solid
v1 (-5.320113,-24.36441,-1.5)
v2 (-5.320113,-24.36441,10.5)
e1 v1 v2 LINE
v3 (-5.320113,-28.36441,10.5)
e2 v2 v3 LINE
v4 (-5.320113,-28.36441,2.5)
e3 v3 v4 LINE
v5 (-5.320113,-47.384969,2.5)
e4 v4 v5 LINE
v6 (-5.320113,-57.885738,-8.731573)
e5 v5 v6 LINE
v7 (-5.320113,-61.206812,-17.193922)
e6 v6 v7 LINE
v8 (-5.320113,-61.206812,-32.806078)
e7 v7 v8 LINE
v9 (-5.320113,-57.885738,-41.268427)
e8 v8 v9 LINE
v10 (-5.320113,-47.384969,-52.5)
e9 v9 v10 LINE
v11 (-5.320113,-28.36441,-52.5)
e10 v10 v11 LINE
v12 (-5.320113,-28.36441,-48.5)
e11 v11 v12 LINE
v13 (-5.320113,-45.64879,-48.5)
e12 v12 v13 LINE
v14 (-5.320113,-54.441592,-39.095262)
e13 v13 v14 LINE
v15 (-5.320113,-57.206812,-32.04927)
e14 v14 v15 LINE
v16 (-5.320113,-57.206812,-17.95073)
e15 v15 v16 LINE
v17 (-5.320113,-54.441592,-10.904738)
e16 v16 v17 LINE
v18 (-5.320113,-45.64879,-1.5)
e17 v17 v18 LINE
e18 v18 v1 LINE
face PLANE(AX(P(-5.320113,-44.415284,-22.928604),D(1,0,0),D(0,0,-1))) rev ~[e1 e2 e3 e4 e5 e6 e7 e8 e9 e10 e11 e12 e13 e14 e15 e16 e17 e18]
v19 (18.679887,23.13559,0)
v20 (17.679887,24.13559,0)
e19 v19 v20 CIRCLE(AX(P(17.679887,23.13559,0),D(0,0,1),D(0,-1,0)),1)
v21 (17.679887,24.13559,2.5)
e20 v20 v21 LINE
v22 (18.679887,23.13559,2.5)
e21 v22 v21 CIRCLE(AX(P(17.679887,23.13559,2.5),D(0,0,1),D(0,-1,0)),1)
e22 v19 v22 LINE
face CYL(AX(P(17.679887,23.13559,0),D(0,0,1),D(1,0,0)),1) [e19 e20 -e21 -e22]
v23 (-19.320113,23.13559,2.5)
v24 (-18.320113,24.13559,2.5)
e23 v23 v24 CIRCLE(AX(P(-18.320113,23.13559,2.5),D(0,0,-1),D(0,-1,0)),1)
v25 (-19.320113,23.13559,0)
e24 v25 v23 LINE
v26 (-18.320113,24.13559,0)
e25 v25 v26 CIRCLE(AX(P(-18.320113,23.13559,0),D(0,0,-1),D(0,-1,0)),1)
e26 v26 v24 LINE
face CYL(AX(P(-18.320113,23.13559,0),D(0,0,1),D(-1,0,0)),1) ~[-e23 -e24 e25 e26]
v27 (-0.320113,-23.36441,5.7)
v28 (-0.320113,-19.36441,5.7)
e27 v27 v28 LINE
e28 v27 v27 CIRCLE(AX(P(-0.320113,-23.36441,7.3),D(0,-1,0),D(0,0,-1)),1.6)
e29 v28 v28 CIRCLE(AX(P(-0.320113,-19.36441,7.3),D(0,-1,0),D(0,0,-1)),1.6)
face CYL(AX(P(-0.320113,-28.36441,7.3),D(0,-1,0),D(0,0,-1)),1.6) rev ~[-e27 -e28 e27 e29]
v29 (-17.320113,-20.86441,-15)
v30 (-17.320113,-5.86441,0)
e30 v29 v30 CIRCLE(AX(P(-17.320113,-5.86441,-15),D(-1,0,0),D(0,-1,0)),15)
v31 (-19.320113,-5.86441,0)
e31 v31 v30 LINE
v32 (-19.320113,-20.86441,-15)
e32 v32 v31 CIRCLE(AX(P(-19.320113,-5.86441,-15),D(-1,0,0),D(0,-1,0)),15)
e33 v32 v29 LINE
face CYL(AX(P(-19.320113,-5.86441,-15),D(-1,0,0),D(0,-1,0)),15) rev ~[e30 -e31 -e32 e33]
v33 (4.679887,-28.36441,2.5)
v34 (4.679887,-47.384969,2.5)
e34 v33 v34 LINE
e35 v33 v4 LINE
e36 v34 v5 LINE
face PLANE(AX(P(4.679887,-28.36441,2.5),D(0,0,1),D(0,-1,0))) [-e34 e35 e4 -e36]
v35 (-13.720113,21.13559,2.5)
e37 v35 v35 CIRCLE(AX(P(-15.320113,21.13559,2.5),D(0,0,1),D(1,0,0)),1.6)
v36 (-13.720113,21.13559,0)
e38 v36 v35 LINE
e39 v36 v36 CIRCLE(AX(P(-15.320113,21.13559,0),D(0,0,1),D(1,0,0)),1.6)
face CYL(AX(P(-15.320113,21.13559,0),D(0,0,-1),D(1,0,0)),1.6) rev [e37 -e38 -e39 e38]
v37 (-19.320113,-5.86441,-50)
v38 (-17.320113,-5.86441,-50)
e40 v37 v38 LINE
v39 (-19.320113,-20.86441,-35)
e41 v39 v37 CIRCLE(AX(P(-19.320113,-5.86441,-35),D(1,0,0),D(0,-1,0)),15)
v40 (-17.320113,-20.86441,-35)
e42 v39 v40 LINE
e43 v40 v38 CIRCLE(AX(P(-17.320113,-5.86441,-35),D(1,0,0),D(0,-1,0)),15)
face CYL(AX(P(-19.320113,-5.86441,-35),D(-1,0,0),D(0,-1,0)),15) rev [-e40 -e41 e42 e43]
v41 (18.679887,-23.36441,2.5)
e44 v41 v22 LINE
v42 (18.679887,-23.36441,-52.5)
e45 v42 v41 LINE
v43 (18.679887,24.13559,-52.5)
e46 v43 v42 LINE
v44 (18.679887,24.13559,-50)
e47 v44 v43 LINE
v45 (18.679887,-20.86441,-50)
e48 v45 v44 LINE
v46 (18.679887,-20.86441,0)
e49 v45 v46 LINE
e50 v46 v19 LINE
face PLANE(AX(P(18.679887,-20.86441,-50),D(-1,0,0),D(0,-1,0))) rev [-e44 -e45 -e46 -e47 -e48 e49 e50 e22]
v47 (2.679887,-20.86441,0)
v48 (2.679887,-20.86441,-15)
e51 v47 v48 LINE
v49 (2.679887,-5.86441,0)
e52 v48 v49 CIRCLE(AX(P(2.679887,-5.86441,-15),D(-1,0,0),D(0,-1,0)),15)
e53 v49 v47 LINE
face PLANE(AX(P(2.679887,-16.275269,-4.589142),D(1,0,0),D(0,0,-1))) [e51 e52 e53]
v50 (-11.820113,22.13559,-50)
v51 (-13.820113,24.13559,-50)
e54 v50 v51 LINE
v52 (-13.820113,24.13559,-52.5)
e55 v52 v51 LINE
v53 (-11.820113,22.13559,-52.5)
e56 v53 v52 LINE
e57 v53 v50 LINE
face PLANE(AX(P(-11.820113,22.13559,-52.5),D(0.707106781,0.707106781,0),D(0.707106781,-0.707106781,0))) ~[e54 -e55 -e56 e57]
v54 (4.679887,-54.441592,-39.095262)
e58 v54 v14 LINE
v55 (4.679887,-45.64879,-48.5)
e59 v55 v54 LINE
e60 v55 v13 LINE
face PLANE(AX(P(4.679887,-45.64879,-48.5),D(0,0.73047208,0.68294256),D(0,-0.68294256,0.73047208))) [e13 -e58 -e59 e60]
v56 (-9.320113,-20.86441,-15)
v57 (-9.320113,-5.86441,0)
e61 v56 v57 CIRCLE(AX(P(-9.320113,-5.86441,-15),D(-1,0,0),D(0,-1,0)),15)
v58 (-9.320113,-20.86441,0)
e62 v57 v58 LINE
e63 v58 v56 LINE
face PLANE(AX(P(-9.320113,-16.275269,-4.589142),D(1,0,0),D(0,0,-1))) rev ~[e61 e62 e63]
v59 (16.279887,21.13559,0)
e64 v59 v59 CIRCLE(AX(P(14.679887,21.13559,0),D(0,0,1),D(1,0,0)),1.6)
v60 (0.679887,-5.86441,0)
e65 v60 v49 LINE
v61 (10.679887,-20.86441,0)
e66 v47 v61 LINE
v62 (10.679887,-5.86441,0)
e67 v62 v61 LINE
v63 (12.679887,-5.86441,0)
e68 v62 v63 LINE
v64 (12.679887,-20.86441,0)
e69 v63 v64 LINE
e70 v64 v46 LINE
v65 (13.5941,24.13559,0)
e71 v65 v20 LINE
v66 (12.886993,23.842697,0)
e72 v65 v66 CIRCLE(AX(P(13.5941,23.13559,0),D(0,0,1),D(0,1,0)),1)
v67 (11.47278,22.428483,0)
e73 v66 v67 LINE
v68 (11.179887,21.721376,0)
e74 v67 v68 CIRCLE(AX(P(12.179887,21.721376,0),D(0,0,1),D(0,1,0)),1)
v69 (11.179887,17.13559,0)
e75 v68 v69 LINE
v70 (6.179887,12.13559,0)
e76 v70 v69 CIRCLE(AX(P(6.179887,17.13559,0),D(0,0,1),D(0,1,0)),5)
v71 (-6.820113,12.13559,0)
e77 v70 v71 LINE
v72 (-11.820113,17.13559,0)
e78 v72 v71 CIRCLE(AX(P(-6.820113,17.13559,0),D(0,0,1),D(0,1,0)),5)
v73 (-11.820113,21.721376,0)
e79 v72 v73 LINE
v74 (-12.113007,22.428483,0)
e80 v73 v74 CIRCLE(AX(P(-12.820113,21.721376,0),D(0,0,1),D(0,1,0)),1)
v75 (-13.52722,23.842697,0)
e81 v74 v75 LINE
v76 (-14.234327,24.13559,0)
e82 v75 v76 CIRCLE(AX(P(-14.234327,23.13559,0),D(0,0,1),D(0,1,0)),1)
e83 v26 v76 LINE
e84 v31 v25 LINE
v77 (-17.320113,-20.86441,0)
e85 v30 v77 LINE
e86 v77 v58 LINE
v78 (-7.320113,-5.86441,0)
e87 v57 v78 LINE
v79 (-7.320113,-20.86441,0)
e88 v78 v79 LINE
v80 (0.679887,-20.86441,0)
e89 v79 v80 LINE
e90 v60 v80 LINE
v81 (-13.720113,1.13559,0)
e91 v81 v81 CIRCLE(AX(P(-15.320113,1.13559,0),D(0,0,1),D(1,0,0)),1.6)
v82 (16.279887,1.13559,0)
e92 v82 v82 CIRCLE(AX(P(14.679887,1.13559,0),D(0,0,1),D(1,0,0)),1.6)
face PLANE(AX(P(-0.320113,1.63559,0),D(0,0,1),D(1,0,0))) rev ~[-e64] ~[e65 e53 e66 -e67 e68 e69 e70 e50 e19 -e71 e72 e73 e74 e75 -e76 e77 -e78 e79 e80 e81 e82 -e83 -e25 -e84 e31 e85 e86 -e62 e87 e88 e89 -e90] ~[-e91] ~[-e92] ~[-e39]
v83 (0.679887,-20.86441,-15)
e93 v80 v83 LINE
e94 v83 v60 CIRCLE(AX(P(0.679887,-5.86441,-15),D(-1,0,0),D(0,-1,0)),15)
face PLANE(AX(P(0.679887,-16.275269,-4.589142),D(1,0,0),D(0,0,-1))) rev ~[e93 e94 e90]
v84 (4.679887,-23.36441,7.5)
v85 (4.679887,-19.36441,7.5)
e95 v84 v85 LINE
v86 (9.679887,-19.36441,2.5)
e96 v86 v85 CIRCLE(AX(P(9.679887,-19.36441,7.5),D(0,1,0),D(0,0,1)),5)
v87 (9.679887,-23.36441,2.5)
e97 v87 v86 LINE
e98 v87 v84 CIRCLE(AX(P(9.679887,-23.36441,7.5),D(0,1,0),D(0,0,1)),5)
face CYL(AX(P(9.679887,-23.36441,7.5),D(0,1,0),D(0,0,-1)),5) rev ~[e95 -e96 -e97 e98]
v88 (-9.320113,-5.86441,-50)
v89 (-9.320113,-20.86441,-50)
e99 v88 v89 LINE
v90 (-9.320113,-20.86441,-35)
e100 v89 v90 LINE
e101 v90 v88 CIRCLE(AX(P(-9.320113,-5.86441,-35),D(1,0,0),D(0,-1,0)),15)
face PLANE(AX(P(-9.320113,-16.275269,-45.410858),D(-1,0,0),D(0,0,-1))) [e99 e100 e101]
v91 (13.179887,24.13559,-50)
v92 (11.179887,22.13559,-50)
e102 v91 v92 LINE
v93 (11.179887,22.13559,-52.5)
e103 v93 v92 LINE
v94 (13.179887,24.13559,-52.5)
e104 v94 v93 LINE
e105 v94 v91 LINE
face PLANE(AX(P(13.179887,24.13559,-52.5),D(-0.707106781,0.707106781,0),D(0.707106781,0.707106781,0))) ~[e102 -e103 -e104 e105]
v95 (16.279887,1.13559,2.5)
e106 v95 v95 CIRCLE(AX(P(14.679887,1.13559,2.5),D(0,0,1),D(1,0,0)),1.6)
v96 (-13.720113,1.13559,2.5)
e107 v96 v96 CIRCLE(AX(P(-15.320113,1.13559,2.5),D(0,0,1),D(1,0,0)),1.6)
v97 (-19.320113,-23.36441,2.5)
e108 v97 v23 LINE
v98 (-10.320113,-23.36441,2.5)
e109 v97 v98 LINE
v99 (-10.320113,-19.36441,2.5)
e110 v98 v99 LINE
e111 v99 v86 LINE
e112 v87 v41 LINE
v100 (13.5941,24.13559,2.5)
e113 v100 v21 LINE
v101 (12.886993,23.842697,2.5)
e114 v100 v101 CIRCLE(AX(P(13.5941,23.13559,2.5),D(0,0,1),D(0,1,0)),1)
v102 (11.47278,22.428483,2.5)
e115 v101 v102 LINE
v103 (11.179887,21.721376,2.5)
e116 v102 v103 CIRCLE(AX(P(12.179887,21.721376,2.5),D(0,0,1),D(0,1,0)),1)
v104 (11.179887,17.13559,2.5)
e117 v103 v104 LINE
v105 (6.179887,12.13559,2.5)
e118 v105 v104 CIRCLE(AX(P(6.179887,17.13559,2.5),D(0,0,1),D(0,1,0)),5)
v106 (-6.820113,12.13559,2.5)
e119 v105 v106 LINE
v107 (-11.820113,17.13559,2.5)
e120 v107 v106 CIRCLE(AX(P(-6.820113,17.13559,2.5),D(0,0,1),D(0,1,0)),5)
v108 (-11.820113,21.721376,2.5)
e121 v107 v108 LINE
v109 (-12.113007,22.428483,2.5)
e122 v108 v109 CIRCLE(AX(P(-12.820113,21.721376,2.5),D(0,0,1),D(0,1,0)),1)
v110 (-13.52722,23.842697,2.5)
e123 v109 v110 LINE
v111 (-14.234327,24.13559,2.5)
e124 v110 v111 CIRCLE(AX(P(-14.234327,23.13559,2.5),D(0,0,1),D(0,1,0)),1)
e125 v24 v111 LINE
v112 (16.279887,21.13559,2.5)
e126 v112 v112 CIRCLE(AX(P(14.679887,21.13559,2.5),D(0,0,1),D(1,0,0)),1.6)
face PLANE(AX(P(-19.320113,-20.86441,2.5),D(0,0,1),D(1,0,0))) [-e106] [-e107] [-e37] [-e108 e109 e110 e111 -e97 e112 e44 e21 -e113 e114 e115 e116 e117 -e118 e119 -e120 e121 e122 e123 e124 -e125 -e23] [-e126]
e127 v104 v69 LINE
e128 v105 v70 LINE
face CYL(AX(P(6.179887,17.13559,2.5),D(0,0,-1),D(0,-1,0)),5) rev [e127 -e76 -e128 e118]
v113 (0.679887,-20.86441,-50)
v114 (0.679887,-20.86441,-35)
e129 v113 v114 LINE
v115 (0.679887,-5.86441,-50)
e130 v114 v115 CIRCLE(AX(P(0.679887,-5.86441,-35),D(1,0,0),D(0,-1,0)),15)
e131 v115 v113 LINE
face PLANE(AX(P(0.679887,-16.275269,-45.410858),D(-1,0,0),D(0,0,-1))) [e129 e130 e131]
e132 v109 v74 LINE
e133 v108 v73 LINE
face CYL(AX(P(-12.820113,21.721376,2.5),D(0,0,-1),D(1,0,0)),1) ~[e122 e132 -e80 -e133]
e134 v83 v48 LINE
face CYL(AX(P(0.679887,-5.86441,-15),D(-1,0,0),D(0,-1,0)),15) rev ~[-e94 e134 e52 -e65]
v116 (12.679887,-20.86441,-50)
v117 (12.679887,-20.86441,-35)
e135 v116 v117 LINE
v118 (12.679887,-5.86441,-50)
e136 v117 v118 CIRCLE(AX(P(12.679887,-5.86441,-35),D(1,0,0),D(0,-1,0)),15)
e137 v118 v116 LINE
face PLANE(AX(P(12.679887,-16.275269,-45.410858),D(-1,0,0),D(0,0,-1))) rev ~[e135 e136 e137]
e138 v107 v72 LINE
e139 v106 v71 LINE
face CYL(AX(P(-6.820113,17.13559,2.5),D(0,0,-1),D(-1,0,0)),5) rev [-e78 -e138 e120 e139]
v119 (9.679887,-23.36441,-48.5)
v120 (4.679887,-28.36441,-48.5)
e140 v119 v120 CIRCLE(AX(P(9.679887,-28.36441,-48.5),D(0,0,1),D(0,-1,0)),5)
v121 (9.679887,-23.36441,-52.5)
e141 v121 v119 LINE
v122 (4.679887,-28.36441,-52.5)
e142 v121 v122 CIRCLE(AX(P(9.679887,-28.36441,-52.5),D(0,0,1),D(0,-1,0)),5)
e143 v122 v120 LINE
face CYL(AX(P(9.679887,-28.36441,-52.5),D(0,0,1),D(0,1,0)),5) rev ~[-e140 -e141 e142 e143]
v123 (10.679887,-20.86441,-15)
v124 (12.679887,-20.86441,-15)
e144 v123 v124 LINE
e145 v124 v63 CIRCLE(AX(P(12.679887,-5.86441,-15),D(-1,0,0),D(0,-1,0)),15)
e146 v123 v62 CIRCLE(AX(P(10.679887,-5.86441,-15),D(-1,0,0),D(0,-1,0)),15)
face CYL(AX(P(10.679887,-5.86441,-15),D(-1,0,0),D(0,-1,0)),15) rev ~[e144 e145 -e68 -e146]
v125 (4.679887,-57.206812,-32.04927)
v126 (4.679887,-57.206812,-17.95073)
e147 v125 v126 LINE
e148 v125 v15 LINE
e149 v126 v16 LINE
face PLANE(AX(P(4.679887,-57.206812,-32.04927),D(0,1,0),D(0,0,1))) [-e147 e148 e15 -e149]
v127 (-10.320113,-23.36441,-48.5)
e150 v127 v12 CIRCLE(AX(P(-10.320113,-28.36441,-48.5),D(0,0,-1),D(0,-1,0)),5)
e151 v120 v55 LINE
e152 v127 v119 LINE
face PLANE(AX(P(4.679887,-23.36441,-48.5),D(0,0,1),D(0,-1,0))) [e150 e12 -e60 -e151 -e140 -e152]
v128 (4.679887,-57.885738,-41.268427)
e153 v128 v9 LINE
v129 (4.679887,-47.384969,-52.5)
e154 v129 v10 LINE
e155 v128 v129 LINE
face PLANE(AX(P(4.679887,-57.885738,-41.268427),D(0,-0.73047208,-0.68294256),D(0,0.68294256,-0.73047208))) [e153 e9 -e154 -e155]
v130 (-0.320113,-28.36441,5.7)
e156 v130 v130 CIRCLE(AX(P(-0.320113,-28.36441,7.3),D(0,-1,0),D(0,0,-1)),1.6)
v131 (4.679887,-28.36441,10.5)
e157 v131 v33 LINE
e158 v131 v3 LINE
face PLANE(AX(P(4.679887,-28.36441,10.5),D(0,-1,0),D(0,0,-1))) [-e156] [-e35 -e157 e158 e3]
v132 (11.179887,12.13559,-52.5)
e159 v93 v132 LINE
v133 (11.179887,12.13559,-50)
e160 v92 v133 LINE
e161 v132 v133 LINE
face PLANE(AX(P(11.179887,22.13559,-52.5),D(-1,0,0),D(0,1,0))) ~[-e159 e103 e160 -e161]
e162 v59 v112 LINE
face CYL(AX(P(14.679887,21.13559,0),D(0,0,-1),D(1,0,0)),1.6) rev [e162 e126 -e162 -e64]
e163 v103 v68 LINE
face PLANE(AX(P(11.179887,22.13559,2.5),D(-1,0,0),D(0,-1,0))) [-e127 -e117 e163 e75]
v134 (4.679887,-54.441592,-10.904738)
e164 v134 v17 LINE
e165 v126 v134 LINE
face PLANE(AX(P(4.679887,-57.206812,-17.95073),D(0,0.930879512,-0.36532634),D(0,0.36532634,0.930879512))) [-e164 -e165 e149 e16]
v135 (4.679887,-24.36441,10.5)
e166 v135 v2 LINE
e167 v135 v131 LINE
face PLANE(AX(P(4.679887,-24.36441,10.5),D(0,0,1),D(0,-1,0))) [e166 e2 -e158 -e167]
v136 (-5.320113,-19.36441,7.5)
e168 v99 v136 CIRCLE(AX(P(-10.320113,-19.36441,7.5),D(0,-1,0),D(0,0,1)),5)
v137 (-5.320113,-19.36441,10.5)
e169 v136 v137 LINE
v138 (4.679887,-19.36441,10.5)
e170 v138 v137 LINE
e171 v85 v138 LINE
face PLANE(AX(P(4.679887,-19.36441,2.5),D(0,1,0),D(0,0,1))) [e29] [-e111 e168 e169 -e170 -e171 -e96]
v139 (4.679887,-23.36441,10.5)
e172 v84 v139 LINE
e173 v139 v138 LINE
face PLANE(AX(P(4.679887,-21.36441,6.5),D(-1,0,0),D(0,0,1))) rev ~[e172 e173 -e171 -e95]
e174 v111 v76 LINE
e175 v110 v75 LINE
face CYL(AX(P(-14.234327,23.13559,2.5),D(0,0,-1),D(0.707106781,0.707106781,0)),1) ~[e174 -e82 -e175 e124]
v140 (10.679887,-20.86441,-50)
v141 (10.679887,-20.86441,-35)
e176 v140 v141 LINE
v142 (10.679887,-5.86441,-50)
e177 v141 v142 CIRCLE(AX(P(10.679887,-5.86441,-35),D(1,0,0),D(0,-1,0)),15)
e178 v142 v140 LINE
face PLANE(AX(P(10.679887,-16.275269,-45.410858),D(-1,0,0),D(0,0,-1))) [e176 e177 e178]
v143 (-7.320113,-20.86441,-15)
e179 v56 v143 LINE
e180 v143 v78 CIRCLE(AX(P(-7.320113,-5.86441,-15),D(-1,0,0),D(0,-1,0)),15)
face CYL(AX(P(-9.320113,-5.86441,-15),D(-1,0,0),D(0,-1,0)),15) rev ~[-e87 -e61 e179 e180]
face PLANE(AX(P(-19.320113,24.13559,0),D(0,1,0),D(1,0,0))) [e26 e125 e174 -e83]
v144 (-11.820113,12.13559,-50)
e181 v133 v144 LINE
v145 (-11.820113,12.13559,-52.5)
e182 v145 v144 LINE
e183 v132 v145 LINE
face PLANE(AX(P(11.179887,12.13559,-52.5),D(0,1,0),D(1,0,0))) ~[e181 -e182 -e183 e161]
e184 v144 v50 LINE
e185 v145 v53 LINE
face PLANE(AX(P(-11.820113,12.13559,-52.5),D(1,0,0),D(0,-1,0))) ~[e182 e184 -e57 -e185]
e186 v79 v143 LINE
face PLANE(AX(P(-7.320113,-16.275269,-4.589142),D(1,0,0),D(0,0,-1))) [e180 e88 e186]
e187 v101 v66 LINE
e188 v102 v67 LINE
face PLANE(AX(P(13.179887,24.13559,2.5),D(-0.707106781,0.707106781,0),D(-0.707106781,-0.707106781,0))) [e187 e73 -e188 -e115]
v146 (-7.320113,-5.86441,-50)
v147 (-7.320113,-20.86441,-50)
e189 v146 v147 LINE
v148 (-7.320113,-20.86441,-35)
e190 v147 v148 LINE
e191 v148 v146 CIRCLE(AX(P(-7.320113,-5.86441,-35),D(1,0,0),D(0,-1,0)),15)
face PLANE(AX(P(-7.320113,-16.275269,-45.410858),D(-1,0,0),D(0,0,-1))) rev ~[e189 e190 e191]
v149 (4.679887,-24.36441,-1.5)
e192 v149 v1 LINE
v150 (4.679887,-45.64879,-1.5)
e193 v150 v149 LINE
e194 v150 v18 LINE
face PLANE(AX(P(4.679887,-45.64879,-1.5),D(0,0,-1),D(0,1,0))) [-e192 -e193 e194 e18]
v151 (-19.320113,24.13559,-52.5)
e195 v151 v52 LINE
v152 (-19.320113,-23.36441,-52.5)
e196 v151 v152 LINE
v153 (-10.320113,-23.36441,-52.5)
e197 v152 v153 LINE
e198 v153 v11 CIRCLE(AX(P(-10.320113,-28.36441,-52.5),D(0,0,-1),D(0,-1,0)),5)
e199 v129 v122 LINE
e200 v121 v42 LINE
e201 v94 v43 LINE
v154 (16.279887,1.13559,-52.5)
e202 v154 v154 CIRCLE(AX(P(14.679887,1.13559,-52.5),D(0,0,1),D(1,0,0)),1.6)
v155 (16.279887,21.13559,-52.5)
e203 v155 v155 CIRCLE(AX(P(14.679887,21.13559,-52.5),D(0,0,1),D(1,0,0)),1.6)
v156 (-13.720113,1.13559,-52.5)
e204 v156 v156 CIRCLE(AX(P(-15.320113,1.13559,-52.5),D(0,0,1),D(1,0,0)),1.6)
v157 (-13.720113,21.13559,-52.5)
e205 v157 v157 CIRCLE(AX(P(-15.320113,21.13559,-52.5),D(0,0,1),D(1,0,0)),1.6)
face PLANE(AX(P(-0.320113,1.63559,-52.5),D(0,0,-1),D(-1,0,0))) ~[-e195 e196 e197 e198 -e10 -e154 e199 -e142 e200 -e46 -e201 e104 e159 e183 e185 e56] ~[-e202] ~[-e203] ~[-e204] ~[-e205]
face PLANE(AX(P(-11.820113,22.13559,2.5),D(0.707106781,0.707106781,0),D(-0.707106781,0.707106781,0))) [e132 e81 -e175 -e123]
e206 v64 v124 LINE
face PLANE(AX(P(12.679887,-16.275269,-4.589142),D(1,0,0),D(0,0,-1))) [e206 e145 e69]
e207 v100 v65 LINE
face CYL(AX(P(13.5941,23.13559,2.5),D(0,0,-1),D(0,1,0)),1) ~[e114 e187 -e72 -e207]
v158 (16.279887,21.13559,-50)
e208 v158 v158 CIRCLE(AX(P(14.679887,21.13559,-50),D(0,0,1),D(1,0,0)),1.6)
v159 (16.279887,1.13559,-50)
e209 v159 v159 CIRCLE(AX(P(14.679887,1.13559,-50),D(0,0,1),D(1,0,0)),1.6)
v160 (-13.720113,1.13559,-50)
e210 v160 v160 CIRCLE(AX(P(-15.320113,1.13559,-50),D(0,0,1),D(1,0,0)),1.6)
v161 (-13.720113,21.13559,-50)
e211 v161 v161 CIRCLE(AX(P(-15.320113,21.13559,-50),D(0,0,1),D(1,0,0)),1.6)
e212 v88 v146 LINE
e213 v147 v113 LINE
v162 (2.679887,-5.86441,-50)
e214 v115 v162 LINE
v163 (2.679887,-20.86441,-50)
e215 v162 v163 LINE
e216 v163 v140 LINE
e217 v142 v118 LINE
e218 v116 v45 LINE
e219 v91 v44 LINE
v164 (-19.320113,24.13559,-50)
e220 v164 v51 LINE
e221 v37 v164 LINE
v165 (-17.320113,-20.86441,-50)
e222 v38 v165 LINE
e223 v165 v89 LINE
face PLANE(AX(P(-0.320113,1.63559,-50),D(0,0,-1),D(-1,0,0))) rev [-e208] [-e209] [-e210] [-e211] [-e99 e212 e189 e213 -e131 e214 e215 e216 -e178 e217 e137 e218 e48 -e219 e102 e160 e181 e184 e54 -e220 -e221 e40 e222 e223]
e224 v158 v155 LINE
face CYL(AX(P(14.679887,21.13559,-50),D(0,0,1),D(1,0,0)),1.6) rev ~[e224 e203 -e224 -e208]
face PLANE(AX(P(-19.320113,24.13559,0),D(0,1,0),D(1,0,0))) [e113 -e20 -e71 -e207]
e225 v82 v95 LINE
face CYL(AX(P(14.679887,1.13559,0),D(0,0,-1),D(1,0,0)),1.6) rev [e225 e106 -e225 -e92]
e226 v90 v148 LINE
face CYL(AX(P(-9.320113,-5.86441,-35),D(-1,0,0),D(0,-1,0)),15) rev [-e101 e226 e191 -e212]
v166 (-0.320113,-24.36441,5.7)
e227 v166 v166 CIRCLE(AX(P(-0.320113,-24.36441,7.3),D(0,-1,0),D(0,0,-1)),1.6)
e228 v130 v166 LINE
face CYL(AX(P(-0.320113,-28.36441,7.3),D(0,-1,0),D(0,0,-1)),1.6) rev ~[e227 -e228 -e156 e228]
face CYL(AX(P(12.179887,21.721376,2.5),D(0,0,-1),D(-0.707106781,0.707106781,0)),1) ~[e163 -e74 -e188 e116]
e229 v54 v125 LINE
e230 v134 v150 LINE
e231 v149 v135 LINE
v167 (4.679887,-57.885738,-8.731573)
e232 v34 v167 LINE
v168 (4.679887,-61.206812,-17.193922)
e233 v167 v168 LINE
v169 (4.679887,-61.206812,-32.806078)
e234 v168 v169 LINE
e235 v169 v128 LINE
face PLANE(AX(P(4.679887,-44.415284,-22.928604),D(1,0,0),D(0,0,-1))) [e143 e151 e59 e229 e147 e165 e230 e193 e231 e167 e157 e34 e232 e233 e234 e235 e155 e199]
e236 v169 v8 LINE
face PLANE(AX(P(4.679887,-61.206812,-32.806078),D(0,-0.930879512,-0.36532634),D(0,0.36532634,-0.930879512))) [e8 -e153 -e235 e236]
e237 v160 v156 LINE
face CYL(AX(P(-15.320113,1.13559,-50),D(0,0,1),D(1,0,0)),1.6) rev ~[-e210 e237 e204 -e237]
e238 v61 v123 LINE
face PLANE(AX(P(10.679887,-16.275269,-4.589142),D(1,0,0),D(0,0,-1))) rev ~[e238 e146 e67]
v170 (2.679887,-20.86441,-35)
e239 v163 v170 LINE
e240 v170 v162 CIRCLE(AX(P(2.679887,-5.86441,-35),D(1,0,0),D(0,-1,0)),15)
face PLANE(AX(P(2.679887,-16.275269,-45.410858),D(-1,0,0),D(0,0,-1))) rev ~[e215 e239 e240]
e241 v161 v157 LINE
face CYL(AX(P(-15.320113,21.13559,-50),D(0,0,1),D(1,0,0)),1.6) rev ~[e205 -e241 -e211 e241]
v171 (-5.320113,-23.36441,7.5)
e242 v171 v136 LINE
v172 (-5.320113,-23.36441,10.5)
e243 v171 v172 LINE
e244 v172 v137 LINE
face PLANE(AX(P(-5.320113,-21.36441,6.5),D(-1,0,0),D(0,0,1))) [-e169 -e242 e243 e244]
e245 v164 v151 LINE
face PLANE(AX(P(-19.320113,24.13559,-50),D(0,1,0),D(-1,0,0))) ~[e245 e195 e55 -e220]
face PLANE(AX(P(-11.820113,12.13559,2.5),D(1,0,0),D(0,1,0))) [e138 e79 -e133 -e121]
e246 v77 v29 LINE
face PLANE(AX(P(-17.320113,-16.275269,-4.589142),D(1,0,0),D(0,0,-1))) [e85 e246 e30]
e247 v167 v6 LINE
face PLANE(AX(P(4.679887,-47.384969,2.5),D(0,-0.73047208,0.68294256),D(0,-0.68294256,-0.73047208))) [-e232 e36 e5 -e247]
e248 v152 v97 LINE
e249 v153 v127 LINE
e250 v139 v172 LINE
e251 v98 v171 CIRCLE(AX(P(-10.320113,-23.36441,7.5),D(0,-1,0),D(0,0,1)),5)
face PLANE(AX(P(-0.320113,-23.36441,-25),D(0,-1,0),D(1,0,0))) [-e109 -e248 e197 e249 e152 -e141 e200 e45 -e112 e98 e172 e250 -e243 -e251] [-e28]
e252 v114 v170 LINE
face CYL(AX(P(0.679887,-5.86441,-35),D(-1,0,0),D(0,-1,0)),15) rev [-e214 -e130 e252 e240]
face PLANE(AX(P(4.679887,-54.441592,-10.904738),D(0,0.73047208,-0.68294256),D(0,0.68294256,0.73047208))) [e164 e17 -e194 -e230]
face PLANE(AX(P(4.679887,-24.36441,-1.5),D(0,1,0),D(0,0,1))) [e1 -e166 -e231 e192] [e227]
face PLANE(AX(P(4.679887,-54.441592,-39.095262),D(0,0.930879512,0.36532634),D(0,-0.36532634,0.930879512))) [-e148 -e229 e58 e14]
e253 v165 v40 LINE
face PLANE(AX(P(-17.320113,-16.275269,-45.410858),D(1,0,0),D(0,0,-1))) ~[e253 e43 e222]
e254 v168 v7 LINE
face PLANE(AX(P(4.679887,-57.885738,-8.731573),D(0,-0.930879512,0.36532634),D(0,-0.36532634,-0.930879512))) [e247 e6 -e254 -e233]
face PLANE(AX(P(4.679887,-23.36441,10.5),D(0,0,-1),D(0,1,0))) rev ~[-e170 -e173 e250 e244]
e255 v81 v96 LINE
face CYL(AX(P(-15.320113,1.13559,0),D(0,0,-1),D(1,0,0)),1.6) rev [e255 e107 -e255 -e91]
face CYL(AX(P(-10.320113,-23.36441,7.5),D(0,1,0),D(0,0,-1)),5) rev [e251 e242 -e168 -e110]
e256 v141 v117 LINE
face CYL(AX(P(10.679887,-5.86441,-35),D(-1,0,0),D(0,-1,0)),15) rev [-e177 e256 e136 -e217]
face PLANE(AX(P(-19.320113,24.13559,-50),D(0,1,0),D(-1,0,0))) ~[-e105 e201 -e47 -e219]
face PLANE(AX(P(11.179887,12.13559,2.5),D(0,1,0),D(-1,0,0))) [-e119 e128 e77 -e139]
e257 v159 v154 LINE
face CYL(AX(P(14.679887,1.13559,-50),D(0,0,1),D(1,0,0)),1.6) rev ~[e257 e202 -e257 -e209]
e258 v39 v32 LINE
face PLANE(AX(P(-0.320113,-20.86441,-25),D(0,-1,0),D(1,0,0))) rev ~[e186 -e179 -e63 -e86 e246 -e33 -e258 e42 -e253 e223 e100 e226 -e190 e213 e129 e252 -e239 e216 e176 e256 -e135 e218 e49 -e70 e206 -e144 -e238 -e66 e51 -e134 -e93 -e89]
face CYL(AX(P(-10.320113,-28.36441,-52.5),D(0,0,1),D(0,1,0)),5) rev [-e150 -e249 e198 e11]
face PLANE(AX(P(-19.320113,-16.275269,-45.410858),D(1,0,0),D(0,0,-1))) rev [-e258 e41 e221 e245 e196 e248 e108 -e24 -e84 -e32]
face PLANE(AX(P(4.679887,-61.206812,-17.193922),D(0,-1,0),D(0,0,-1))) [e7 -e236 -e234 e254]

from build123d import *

# Parameters (mm, degrees)
SKETCH_1_W           = 38
SKETCH_1_H           = 45
SKETCH_1_R           = 1.6
EXTRUDE_1_DEPTH      = 2.5
CUT_EXTRUDE_1_DEPTH  = 2.5
SKETCH_3_W           = 38
SKETCH_3_H           = 55
EXTRUDE_2_DEPTH      = 2.5
FILLET_3_R           = 1
FILLET1_R            = 5
EXTRUDE3_DEPTH       = 2
LPATTERN1_COUNT      = 4
LPATTERN1_PITCH      = 10
MIRROR3_COPY_1_DEPTH = 2
MIRROR3_COPY_2_DEPTH = 2
MIRROR3_COPY_3_DEPTH = 2
EXTRUDE4_DEPTH       = 5
EXTRUDE4_DEPTH_BACK  = 5
SKETCH5_W            = 8
SKETCH5_H            = 4
SKETCH6_R            = 1.6
CUT_EXTRUDE1_DEPTH   = 20
FILLET2_R            = 5
FILLET3_R            = 5


with BuildPart() as part:
    # 草图1 → 凸台-拉伸1 (new body)
    with BuildSketch(Plane.XY):
        with Locations((-0.320113314, 1.635589826)):
            Rectangle(SKETCH_1_W, SKETCH_1_H)
        with Locations((-15.320113314, 21.135589826)):
            Circle(SKETCH_1_R, mode=Mode.SUBTRACT)
        with Locations((14.679886686, 21.135589826)):
            Circle(SKETCH_1_R, mode=Mode.SUBTRACT)
        with Locations((-15.320113314, 1.135589826)):
            Circle(SKETCH_1_R, mode=Mode.SUBTRACT)
        with Locations((14.679886686, 1.135589826)):
            Circle(SKETCH_1_R, mode=Mode.SUBTRACT)
    extrude_1 = extrude(amount=EXTRUDE_1_DEPTH)

    # 草图2 → 切除-拉伸1 (cut)
    with BuildSketch(Plane.XY.offset(2.5)):
        Polygon((-11.820113314, 24.135589826), (11.179886686, 24.135589826), (13.179886686, 24.135589826), (11.179886686, 22.135589826), (11.179886686, 12.135589826), (-11.820113314, 12.135589826), (-11.820113314, 22.135589826), (-13.820113314, 24.135589826), align=None)
    cut_extrude_1 = extrude(amount=-CUT_EXTRUDE_1_DEPTH, mode=Mode.SUBTRACT)

    # 草图3 → 凸台-拉伸2 (add)
    with BuildSketch(Plane.XZ.offset(20.864410174)):
        with Locations((-0.320113314, -25)):
            Rectangle(SKETCH_3_W, SKETCH_3_H)
    extrude(amount=EXTRUDE_2_DEPTH)

    # 圆角3
    fillet_3_edges = [part.edges().sort_by_distance(p)[0] for p in [
        (-13.820113314, 24.135589826, 1.25),
        (13.179886686, 24.135589826, 1.25),
        (11.179886686, 22.135589826, 1.25),
        (-11.820113314, 22.135589826, 1.25),
        (-19.320113314, 24.135589826, 1.25),
        (18.679886686, 24.135589826, 1.25),
    ]]
    fillet(fillet_3_edges, radius=FILLET_3_R)

    # Fillet1
    fillet1_edges = [part.edges().sort_by_distance(p)[0] for p in [
        (11.179886686, 12.135589826, 1.25),
        (-11.820113314, 12.135589826, 1.25),
    ]]
    fillet(fillet1_edges, radius=FILLET1_R)

    # Sketch4 → Extrude3 (add)
    with BuildSketch(Plane.ZY.offset(19.320113314)):
        with BuildLine():
            Line((0, -5.864410174), (0, -20.864410174))
            Line((0, -20.864410174), (-15, -20.864410174))
            ThreePointArc((-15, -20.864410174), (-4.393398282, -16.471011892), (0, -5.864410174))
        make_face()
    extrude3 = extrude(amount=-EXTRUDE3_DEPTH)

    # Mirror1: 凸台-拉伸1 across plane
    add(extrude_1.mirror(Plane(origin=(0, 0, -25), x_dir=(1, 0, 0), z_dir=(0, 0, -1))))

    # Mirror2: 切除-拉伸1 across plane
    add(cut_extrude_1.mirror(Plane(origin=(0, 0, -25), x_dir=(1, 0, 0), z_dir=(0, 0, -1))), mode=Mode.SUBTRACT)

    # LPattern1: Extrude3 ×4
    with Locations(*[(i * LPATTERN1_PITCH, 0, 0) for i in range(1, LPATTERN1_COUNT)]):
        add(extrude3)

    # Mirror3: Extrude3 across plane
    add(extrude3.mirror(Plane(origin=(0, 0, -25), x_dir=(1, 0, 0), z_dir=(0, 0, -1))))

    # Mirror3 copy 1 sketch → Mirror3 copy 1 (add)
    with BuildSketch(Plane(origin=(-9.320113314, 0, -50), x_dir=(0, 0, -1), z_dir=(-1, 0, 0))):
        with BuildLine():
            Line((0, 5.864410174), (0, 20.864410174))
            Line((0, 20.864410174), (-15, 20.864410174))
            ThreePointArc((-15, 20.864410174), (-4.393398282, 16.471011892), (0, 5.864410174))
        make_face()
    extrude(amount=-MIRROR3_COPY_1_DEPTH)

    # Mirror3 copy 2 sketch → Mirror3 copy 2 (add)
    with BuildSketch(Plane(origin=(0.679886686, 0, -50), x_dir=(0, 0, -1), z_dir=(-1, 0, 0))):
        with BuildLine():
            Line((0, 5.864410174), (0, 20.864410174))
            Line((0, 20.864410174), (-15, 20.864410174))
            ThreePointArc((-15, 20.864410174), (-4.393398282, 16.471011892), (0, 5.864410174))
        make_face()
    extrude(amount=-MIRROR3_COPY_2_DEPTH)

    # Mirror3 copy 3 sketch → Mirror3 copy 3 (add)
    with BuildSketch(Plane(origin=(10.679886686, 0, -50), x_dir=(0, 0, -1), z_dir=(-1, 0, 0))):
        with BuildLine():
            Line((0, 5.864410174), (0, 20.864410174))
            Line((0, 20.864410174), (-15, 20.864410174))
            ThreePointArc((-15, 20.864410174), (-4.393398282, 16.471011892), (0, 5.864410174))
        make_face()
    extrude(amount=-MIRROR3_COPY_3_DEPTH)

    # Sketch5 → Extrude4 (add, two sides: drawn at the far end of the back side and taken through both)
    with BuildSketch(Plane.ZY.offset(0.320113314).offset(-EXTRUDE4_DEPTH_BACK)):
        Polygon((-48.5, -23.364410174), (-48.5, -45.648790241), (-39.095261683, -54.441591814), (-32.049269501, -57.2068117), (-17.950730499, -57.2068117), (-10.904738317, -54.441591814), (-1.5, -45.648790241), (-1.5, -24.364410174), (10.5, -24.364410174), (10.5, -28.364410174), (2.5, -28.364410174), (2.5, -47.384968523), (-8.731572968, -57.885738362), (-17.193922344, -61.2068117), (-32.806077656, -61.2068117), (-41.268427032, -57.885738362), (-52.5, -47.384968523), (-52.5, -23.364410174), align=None)
        with Locations((6.5, -21.364410174)):
            Rectangle(SKETCH5_W, SKETCH5_H)
    extrude(amount=EXTRUDE4_DEPTH + EXTRUDE4_DEPTH_BACK)

    # Sketch6 → Cut-Extrude1 (cut)
    with BuildSketch(Plane.XZ.offset(28.364410174)):
        with Locations(Location((-0.320113314, 7.3, 0), (0, 0, 270))):
            Circle(SKETCH6_R)
    extrude(amount=-CUT_EXTRUDE1_DEPTH, mode=Mode.SUBTRACT)

    # Fillet2
    fillet2_edges = [part.edges().sort_by_distance(p)[0] for p in [
        (4.679886686, -23.364410174, -50.5),
        (-5.320113314, -23.364410174, -50.5),
    ]]
    fillet(fillet2_edges, radius=FILLET2_R)

    # Fillet3
    fillet3_edges = [part.edges().sort_by_distance(p)[0] for p in [
        (4.679886686, -21.364410174, 2.5),
        (-5.320113314, -21.364410174, 2.5),
    ]]
    fillet(fillet3_edges, radius=FILLET3_R)


solid = part.part
